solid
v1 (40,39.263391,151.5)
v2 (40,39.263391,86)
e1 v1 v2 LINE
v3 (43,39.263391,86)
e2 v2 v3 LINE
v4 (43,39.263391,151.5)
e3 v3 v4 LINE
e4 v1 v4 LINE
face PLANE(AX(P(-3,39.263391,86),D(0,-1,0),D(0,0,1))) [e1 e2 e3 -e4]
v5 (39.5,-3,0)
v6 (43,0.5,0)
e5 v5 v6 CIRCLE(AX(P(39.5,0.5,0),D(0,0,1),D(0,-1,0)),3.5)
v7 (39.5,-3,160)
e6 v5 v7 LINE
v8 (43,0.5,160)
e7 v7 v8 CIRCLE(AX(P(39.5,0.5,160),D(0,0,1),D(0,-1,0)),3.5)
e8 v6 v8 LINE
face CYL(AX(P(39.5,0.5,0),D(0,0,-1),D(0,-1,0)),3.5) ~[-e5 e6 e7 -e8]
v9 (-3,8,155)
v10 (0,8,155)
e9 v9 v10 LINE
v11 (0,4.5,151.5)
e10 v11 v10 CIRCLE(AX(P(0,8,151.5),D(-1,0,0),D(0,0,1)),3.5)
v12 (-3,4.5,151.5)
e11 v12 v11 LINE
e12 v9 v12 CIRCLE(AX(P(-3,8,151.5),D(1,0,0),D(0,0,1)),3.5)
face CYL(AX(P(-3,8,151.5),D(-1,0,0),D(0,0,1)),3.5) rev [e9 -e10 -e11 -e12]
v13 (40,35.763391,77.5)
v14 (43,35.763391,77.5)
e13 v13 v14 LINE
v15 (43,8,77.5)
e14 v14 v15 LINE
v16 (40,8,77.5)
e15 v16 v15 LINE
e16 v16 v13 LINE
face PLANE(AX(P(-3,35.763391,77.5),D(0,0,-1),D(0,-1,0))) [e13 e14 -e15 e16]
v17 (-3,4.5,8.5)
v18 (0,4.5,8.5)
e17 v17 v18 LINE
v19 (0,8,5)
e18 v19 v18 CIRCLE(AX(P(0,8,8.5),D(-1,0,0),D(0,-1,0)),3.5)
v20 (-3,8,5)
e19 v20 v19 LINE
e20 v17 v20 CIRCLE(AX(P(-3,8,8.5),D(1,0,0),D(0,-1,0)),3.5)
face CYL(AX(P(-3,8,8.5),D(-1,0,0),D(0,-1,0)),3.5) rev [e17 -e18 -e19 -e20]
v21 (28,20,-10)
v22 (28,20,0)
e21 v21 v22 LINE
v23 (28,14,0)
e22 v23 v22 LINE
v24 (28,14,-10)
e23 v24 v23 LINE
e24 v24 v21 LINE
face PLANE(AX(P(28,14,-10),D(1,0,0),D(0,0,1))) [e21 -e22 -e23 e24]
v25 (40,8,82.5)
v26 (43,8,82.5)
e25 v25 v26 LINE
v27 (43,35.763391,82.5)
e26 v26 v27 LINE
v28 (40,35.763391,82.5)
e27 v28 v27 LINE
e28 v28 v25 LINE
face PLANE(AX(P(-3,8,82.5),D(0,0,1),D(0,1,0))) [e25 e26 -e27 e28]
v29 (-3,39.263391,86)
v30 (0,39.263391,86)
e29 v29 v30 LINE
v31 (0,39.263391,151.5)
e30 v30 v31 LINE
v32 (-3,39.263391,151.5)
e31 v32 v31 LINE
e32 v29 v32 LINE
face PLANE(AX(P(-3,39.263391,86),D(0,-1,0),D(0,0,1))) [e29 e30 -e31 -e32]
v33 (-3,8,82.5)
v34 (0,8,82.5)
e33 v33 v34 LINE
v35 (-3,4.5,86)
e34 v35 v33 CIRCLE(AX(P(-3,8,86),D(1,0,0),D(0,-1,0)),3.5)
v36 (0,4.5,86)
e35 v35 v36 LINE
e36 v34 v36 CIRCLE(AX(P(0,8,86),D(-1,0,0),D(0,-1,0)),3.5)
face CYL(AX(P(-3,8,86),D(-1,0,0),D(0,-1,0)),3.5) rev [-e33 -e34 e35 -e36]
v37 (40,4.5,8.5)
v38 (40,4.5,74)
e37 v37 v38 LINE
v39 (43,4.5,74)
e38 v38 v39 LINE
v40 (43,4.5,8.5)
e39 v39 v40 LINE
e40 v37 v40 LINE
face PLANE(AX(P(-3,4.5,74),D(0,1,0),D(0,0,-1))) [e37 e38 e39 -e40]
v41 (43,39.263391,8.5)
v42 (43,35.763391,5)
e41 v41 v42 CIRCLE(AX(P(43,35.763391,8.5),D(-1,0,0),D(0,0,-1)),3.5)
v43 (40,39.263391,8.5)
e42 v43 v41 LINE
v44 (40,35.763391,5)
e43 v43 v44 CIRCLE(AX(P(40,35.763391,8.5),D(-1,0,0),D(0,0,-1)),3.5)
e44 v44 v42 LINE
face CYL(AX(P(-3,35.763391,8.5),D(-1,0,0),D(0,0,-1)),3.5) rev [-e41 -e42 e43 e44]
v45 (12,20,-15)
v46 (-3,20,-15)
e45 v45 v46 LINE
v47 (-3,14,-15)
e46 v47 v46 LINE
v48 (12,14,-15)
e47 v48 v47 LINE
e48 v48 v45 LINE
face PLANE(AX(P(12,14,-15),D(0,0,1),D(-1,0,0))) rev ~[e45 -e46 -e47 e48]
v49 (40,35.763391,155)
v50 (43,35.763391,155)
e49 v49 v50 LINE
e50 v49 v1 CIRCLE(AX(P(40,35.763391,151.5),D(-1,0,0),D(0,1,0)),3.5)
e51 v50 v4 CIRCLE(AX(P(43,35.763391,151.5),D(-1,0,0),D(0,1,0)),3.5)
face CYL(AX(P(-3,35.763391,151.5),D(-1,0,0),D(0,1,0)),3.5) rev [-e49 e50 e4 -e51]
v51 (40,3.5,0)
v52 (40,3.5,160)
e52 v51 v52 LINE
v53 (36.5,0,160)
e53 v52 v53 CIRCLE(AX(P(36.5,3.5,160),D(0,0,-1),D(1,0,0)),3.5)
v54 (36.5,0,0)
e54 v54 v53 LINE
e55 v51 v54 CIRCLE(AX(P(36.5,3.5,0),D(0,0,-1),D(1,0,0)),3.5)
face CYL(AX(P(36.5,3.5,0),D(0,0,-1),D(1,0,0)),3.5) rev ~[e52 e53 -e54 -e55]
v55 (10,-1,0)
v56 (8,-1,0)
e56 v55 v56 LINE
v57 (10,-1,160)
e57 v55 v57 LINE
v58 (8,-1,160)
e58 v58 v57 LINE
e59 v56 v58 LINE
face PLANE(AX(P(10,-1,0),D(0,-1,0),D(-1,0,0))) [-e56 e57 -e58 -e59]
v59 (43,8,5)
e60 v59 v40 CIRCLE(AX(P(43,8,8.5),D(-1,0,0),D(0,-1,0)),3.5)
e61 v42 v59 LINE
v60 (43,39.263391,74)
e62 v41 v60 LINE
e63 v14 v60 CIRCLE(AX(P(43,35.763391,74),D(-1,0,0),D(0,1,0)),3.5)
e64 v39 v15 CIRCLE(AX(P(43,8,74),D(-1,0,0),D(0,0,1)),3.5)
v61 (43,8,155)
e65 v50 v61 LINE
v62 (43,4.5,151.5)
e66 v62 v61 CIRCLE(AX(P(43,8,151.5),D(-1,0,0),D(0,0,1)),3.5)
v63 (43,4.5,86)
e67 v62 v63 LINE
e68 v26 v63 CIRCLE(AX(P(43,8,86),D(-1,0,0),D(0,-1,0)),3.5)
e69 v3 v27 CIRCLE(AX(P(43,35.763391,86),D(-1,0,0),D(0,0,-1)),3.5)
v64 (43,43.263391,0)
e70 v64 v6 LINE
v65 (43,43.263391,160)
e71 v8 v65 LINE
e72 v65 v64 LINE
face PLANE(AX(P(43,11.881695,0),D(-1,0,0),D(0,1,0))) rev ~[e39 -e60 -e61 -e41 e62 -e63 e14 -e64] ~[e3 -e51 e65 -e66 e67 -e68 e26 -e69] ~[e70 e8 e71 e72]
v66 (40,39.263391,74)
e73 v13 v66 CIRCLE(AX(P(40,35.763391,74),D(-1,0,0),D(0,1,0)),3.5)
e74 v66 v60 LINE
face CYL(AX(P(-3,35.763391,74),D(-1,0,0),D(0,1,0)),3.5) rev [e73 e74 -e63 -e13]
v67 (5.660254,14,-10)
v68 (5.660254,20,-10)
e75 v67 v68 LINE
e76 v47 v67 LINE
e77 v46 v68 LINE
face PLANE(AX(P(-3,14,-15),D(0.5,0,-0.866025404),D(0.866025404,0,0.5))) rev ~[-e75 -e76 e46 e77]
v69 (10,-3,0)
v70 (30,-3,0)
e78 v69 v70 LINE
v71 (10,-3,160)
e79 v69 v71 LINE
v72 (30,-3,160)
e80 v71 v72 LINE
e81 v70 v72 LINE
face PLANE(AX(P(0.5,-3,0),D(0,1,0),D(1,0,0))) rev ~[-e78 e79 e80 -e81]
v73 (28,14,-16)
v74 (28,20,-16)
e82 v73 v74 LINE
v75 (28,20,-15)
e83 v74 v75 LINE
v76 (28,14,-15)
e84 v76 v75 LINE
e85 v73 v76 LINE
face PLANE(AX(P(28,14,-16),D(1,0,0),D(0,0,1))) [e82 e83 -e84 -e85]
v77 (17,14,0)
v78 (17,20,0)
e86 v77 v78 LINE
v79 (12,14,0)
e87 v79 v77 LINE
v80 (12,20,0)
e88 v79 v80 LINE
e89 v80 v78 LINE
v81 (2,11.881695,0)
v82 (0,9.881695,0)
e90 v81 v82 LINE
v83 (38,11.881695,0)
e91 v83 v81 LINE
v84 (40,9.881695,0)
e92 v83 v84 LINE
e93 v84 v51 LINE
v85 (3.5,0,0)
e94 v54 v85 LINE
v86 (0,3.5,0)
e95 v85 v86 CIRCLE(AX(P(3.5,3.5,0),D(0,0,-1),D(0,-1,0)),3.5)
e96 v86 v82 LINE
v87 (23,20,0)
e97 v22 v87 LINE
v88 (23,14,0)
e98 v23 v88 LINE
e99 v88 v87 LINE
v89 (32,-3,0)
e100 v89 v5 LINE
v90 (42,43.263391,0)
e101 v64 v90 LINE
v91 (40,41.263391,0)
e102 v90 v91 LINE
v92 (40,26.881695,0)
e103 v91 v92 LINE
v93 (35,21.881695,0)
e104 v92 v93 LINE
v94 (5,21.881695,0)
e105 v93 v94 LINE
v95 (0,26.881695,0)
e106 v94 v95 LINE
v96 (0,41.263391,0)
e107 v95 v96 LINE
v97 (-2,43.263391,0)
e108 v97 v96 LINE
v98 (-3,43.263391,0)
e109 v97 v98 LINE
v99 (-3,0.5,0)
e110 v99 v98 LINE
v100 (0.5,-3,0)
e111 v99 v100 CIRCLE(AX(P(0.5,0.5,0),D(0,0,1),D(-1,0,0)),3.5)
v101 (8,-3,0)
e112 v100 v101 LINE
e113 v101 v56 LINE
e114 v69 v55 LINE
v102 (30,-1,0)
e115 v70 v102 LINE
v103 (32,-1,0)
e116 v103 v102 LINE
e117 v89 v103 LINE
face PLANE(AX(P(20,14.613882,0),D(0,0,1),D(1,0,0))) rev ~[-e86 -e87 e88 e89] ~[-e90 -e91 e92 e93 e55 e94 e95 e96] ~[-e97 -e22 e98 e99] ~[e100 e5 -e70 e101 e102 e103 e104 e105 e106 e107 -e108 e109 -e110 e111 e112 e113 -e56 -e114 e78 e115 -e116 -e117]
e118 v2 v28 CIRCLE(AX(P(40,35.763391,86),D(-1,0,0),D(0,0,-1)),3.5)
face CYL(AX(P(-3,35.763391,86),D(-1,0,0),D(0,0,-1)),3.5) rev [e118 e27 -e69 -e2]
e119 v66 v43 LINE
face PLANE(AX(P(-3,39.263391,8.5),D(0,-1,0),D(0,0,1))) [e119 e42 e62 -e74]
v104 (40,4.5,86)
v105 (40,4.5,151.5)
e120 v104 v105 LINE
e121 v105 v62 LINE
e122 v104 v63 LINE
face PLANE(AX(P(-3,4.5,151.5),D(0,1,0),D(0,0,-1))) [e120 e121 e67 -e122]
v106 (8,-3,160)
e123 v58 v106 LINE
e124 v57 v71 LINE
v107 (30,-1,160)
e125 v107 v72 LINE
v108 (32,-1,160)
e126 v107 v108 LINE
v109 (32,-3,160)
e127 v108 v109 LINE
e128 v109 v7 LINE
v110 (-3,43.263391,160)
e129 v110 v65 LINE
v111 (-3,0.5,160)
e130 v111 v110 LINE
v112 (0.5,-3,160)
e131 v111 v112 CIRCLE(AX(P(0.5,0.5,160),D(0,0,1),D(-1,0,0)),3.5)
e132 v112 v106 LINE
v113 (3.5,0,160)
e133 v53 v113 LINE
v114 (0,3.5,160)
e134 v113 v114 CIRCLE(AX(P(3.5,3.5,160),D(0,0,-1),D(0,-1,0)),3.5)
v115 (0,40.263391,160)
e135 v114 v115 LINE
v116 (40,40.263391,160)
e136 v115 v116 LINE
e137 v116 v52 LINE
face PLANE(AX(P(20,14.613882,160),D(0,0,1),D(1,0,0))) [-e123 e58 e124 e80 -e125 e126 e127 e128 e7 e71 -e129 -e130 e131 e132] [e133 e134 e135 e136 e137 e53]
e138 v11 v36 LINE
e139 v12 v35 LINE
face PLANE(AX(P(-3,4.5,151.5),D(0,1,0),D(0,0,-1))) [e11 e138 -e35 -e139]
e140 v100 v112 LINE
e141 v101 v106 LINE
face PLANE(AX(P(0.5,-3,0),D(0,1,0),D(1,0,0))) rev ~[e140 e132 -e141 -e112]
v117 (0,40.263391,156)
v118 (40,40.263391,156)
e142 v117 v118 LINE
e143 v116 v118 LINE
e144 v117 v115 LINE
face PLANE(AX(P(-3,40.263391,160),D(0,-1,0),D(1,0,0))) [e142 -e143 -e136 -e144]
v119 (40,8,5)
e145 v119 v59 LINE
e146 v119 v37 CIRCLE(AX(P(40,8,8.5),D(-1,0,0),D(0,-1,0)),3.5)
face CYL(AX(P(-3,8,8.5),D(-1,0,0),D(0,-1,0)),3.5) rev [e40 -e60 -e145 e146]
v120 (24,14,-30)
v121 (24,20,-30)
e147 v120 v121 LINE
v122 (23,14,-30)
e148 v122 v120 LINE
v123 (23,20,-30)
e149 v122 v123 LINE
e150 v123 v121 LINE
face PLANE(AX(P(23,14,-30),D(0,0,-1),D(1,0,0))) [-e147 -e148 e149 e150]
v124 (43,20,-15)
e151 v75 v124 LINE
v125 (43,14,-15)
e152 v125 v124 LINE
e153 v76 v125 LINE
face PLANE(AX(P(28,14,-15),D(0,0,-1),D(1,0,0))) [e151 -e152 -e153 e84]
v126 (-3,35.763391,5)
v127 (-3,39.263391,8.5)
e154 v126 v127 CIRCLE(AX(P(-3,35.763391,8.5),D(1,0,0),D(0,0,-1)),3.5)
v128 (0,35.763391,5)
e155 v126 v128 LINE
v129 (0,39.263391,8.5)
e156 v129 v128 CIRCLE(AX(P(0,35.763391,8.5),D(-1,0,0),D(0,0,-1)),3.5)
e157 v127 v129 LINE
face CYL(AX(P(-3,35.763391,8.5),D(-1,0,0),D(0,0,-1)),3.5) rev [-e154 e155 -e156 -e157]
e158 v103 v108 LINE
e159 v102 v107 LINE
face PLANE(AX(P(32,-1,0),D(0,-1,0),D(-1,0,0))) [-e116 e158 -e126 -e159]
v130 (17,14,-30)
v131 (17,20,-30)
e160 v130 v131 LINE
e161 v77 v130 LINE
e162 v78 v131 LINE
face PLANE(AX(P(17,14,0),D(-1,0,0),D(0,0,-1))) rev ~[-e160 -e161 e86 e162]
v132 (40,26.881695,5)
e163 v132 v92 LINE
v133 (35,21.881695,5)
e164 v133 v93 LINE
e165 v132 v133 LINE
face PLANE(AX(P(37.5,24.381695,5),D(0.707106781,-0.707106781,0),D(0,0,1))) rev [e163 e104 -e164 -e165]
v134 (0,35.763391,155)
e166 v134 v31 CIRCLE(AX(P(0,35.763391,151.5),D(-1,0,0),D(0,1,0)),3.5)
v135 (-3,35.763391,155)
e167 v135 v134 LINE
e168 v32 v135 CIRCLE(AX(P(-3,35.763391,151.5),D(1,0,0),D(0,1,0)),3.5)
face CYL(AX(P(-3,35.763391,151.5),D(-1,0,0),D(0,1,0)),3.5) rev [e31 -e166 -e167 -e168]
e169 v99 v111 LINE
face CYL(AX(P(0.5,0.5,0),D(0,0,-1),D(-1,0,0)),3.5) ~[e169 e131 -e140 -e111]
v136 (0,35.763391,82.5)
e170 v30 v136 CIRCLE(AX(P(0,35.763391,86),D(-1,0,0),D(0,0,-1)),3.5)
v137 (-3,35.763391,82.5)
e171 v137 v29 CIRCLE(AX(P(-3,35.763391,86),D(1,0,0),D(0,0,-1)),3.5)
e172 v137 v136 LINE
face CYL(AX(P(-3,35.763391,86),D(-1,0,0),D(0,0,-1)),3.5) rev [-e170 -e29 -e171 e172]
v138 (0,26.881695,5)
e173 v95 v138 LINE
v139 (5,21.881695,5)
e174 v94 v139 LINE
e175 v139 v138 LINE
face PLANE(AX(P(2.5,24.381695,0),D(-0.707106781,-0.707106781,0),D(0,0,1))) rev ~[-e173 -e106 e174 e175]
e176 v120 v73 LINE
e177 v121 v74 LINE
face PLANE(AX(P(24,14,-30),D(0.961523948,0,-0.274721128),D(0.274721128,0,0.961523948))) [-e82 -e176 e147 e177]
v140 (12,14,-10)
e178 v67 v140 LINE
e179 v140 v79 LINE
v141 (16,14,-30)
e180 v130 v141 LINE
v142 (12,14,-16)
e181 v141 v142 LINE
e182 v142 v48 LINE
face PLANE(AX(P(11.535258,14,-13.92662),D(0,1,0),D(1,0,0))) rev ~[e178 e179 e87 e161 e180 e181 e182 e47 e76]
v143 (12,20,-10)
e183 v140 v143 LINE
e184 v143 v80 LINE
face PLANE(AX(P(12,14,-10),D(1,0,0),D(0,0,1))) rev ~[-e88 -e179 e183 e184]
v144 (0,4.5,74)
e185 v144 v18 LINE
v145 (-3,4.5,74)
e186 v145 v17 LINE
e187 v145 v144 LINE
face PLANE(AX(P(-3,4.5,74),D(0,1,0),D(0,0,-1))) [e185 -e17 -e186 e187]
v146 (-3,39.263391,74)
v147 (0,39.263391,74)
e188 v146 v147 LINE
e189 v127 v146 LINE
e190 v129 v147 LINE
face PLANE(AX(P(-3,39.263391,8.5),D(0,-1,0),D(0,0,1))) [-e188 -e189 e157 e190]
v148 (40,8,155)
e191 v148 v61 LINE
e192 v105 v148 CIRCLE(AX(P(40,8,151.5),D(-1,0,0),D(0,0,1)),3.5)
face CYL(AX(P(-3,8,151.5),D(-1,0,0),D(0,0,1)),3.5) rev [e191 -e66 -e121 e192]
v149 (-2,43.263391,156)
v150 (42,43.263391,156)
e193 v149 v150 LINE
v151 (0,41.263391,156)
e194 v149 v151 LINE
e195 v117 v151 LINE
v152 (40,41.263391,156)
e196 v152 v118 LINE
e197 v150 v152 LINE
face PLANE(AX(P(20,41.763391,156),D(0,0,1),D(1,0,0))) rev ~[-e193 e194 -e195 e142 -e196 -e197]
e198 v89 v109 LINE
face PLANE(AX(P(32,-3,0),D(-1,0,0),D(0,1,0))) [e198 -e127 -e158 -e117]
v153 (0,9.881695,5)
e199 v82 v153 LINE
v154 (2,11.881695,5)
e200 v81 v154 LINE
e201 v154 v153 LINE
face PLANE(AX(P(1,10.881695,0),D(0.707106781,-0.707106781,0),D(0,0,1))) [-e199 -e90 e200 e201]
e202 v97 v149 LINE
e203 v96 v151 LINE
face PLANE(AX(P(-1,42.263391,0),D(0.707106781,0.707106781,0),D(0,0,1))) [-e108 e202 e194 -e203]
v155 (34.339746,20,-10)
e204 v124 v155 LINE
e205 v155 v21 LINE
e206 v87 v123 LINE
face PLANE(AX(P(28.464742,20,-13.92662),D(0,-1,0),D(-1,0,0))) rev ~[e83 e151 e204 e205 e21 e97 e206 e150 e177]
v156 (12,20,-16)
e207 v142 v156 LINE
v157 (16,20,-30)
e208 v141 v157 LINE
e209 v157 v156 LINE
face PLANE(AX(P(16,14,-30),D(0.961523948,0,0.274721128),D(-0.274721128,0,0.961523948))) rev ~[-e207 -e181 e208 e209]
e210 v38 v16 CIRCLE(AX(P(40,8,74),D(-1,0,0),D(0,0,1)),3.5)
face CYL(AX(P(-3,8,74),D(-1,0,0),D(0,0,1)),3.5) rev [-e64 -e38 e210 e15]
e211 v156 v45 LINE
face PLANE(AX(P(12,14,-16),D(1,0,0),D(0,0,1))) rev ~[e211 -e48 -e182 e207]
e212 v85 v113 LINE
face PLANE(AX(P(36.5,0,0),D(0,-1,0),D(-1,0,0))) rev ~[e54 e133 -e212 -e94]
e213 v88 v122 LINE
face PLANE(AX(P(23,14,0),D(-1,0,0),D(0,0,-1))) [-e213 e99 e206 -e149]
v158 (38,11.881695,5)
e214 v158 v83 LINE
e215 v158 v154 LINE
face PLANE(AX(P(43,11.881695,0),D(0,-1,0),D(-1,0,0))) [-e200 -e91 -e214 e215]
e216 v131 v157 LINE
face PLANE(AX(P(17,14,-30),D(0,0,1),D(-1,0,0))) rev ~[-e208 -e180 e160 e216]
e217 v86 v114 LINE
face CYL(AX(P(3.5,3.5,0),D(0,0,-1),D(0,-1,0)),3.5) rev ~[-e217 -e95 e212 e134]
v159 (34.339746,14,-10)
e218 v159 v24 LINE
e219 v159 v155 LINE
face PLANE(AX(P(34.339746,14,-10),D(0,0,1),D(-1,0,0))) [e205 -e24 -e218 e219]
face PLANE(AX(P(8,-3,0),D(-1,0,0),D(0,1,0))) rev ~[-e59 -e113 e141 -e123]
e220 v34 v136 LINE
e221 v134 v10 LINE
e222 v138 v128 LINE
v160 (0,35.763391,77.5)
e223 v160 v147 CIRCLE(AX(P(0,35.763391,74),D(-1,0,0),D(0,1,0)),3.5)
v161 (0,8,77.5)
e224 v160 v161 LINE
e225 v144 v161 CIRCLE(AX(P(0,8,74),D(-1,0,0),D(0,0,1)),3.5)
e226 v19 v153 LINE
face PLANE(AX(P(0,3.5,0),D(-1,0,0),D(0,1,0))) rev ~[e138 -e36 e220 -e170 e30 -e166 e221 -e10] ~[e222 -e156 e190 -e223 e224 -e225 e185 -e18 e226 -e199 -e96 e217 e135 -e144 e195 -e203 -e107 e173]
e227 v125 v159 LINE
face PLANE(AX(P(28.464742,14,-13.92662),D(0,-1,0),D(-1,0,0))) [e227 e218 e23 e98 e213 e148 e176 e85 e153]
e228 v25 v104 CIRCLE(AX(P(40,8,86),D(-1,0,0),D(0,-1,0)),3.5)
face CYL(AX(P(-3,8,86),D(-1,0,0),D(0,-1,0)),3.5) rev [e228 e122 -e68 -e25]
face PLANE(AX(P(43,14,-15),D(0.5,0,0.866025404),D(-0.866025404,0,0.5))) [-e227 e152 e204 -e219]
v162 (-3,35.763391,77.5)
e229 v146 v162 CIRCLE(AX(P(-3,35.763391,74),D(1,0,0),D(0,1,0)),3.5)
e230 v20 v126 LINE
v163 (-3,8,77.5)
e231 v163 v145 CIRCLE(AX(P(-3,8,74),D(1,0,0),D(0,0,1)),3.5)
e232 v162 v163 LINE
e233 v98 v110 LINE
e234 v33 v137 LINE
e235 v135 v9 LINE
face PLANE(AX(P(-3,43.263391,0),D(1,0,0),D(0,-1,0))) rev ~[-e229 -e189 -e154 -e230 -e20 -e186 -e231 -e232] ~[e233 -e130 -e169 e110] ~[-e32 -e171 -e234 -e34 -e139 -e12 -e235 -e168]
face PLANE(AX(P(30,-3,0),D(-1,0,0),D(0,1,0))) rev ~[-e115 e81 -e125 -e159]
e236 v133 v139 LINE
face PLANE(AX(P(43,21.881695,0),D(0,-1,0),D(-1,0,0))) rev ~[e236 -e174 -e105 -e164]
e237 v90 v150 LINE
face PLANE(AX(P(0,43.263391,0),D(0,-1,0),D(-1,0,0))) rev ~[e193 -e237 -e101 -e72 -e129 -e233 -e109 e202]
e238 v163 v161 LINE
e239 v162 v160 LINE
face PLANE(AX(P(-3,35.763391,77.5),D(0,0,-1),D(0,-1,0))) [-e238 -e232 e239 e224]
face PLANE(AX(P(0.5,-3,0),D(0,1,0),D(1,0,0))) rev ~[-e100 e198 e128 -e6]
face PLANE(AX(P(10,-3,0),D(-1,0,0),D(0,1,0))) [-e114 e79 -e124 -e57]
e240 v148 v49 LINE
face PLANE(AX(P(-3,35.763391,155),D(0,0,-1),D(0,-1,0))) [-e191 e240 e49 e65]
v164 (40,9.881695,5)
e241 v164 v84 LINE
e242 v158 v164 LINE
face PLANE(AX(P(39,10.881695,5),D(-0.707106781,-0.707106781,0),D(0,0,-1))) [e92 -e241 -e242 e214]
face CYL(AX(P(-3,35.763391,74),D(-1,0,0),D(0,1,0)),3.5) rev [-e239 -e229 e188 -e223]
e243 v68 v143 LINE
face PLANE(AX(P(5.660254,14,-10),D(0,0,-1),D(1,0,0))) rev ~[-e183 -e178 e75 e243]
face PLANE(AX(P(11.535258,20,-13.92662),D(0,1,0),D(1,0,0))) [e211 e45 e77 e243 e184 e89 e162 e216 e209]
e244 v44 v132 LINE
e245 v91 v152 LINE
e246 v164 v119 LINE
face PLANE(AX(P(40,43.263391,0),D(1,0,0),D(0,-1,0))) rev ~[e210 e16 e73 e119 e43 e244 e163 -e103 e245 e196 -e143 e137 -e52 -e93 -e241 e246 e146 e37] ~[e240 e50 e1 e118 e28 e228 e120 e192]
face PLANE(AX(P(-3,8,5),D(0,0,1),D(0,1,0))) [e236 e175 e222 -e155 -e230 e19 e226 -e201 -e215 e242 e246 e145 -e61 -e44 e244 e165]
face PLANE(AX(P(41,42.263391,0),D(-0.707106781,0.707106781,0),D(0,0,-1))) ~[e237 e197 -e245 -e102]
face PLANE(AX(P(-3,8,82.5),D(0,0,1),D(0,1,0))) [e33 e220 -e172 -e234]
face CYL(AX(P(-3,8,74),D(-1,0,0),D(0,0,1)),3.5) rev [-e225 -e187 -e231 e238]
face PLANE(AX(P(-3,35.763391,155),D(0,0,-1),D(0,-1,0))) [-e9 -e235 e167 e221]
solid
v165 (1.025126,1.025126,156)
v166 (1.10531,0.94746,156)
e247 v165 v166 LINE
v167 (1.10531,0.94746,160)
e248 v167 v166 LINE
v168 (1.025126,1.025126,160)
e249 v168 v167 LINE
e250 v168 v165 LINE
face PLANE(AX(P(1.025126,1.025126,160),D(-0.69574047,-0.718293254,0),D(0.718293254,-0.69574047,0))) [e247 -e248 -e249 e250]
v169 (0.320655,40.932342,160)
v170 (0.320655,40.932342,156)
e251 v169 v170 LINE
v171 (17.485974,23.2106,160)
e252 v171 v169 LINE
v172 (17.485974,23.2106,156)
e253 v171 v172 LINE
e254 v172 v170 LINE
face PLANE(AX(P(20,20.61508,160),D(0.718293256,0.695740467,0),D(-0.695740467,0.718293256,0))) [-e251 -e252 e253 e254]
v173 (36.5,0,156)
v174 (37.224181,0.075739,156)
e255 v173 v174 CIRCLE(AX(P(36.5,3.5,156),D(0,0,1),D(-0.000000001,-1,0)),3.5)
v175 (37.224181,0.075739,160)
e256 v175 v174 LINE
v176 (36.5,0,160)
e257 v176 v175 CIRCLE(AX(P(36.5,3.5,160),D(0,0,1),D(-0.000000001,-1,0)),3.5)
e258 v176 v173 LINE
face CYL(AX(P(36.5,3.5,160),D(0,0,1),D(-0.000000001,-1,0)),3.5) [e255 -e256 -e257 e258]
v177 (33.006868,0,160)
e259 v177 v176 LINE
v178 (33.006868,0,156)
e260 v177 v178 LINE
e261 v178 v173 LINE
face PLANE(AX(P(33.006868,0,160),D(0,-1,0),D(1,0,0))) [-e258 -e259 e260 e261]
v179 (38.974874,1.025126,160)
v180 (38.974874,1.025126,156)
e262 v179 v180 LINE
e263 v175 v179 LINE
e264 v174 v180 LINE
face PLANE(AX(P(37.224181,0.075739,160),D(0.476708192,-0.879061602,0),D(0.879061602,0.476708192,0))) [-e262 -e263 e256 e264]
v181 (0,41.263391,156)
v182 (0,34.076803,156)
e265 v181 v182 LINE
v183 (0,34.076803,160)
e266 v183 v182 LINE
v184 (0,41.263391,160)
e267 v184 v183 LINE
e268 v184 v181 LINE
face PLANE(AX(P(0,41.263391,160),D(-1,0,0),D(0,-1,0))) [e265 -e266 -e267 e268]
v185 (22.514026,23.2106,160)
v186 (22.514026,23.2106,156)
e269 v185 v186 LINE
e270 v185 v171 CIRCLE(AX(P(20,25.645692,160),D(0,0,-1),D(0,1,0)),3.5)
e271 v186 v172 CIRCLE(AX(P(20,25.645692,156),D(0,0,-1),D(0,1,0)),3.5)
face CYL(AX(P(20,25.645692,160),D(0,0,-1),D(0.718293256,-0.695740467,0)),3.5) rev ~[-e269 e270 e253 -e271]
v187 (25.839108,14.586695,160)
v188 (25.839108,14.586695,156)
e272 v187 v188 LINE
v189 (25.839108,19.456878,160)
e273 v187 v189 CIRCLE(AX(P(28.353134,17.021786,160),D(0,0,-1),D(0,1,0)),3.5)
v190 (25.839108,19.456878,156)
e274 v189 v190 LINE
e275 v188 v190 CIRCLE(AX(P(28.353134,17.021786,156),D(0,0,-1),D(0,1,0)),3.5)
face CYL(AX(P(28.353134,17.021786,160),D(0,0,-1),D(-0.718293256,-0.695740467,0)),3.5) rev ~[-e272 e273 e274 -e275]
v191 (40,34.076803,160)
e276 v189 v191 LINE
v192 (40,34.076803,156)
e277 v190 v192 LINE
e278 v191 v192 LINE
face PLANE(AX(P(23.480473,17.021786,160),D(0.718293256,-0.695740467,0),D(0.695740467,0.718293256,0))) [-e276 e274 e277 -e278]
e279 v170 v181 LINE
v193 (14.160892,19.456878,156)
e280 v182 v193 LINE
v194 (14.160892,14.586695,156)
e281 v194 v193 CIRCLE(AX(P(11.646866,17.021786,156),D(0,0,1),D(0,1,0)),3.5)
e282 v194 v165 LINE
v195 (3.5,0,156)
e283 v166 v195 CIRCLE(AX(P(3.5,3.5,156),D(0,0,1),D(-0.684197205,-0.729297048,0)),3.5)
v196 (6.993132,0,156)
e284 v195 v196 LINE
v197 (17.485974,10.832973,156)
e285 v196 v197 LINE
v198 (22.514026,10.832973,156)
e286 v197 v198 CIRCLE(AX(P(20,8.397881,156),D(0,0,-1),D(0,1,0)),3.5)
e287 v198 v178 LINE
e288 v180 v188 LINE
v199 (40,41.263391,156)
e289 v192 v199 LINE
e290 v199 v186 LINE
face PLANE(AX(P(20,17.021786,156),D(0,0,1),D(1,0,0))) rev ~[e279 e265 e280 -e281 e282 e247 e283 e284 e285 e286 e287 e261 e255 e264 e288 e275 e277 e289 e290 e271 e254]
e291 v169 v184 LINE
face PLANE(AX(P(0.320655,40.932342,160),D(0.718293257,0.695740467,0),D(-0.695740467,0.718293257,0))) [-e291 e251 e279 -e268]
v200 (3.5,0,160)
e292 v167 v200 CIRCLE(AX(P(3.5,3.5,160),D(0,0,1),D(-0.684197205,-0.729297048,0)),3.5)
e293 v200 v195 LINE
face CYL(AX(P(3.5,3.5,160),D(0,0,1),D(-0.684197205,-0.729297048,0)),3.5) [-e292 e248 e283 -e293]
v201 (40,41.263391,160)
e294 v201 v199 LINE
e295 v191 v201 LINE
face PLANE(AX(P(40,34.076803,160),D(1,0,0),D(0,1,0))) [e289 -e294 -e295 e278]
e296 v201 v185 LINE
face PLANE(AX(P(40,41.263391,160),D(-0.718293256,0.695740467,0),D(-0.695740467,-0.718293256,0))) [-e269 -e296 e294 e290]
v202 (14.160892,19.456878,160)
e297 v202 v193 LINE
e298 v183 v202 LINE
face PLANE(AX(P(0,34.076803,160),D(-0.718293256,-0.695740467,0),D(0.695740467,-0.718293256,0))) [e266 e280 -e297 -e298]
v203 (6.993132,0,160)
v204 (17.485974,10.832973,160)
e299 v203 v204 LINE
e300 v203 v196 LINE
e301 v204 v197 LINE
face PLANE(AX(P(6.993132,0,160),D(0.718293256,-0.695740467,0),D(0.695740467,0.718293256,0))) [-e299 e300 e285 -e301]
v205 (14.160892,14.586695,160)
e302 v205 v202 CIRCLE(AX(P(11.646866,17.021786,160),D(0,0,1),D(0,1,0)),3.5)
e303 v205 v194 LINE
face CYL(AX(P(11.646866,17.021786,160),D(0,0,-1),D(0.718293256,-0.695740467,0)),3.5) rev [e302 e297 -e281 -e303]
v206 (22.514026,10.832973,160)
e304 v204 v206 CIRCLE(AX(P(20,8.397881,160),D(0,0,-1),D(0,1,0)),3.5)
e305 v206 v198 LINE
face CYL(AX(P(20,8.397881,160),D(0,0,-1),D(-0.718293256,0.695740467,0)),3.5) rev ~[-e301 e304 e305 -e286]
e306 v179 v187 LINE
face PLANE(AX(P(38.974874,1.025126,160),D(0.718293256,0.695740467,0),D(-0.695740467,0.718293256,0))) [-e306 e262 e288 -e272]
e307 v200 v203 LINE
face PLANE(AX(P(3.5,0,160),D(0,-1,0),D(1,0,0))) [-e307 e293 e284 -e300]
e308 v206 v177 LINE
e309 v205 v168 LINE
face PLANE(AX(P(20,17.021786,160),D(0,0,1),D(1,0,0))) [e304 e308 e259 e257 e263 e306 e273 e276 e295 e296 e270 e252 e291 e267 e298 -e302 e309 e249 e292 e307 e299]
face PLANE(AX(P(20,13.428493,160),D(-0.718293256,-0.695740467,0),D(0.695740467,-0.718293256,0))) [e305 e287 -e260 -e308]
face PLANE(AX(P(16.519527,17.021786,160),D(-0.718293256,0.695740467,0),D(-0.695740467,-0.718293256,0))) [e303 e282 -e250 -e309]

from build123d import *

# Parameters (mm, degrees)
EXTRUDE_1_DEPTH     = 160
CUT_EXTRUDE_1_DEPTH = 160
CHAMFER_1_SIZE      = 2
EXTRUDE_3_DEPTH     = 4
FILLET_1_R          = 3.5
SKETCH_4_W          = 46
SKETCH_4_H          = 3
EXTRUDE_4_DEPTH     = 4
SKETCH_5_W          = 46
SKETCH_5_H          = 10
EXTRUDE_5_DEPTH     = 5
CHAMFER_2_SIZE      = 2
EXTRUDE_6_DEPTH     = 6
CHAMFER_3_SIZE      = 5
SKETCH_8_W          = 2
SKETCH_8_H          = 2
CUT_EXTRUDE_2_DEPTH = 172.232943631


with BuildPart() as part:
    # 草图1 → 凸台-拉伸1 (new body)
    with BuildSketch(Plane.XY):
        with BuildLine():
            Line((0, 43.263390812), (-3, 43.263390812))
            Line((-3, 43.263390812), (-3, 0.5))
            ThreePointArc((-3, 0.5), (-1.974873734, -1.974873734), (0.5, -3))
            Line((0.5, -3), (39.5, -3))
            ThreePointArc((39.5, -3), (41.974873734, -1.974873734), (43, 0.5))
            Line((43, 0.5), (43, 43.263390812))
            Line((43, 43.263390812), (40, 43.263390812))
            Line((40, 43.263390812), (40, 3.5))
            ThreePointArc((40, 3.5), (38.974873734, 1.025126266), (36.5, 0))
            Line((36.5, 0), (3.5, 0))
            ThreePointArc((3.5, 0), (1.025126266, 1.025126266), (0, 3.5))
            Line((0, 3.5), (0, 43.263390812))
        make_face()
    extrude(amount=EXTRUDE_1_DEPTH)

    # 草图2 → 切除-拉伸1 (cut)
    with BuildSketch(Plane.ZY.offset(3)):
        with BuildLine():
            Line((8.5, 39.263390812), (74, 39.263390812))
            ThreePointArc((74, 39.263390812), (76.474873734, 38.238264546), (77.5, 35.763390812))
            Line((77.5, 35.763390812), (77.5, 8))
            ThreePointArc((77.5, 8), (76.474873734, 5.525126266), (74, 4.5))
            Line((74, 4.5), (8.5, 4.5))
            ThreePointArc((8.5, 4.5), (6.025126266, 5.525126266), (5, 8))
            Line((5, 8), (5, 35.763390812))
            ThreePointArc((5, 35.763390812), (6.025126266, 38.238264546), (8.5, 39.263390812))
        make_face()
        with BuildLine():
            Line((86, 39.263390812), (151.5, 39.263390812))
            ThreePointArc((151.5, 39.263390812), (153.974873734, 38.238264546), (155, 35.763390812))
            Line((155, 35.763390812), (155, 8))
            ThreePointArc((155, 8), (153.974873734, 5.525126266), (151.5, 4.5))
            Line((151.5, 4.5), (86, 4.5))
            ThreePointArc((86, 4.5), (83.525126266, 5.525126266), (82.5, 8))
            Line((82.5, 8), (82.5, 35.763390812))
            ThreePointArc((82.5, 35.763390812), (83.525126266, 38.238264546), (86, 39.263390812))
        make_face()
    extrude(amount=-CUT_EXTRUDE_1_DEPTH, mode=Mode.SUBTRACT)

    # 倒角1
    chamfer_1_edges = [part.edges().sort_by_distance(p)[0] for p in [
        (40, 43.263390812, 80),
        (0, 43.263390812, 80),
    ]]
    chamfer(chamfer_1_edges, length=CHAMFER_1_SIZE)

    # 草图4 → 凸台-拉伸4 (add)
    with BuildSketch(Plane.XY.offset(160)):
        with Locations((20, 41.763390812)):
            Rectangle(SKETCH_4_W, SKETCH_4_H)
    extrude(amount=-EXTRUDE_4_DEPTH)

    # 草图5 → 凸台-拉伸5 (add)
    with BuildSketch(Plane(origin=(0, 0, 0), x_dir=(-1, 0, 0), z_dir=(0, 0, -1))):
        with Locations((-20, 16.881695406)):
            Rectangle(SKETCH_5_W, SKETCH_5_H)
    extrude(amount=-EXTRUDE_5_DEPTH)

    # 倒角2
    chamfer_2_edges = [part.edges().sort_by_distance(p)[0] for p in [
        (0, 11.881695406, 2.5),
        (40, 11.881695406, 2.5),
    ]]
    chamfer(chamfer_2_edges, length=CHAMFER_2_SIZE)

    # 草图7 → 凸台-拉伸6 (add)
    with BuildSketch(Plane(origin=(0, 14, 0), x_dir=(1, 0, 0), z_dir=(0, 1, 0))):
        Polygon((43, 15), (34.339745962, 10), (28, 10), (28, 0), (23, 0), (23, 30), (24, 30), (28, 16), (28, 15), align=None)
        Polygon((17, 0), (17, 30), (16, 30), (12, 16), (12, 15), (-3, 15), (5.660254038, 10), (12, 10), (12, 0), align=None)
    extrude(amount=EXTRUDE_6_DEPTH)

    # 倒角3
    chamfer_3_edges = [part.edges().sort_by_distance(p)[0] for p in [
        (0, 21.881695406, 2.5),
        (40, 21.881695406, 2.5),
    ]]
    chamfer(chamfer_3_edges, length=CHAMFER_3_SIZE)

    # 草图8 → 切除-拉伸2 (cut, through all)
    with BuildSketch(Plane(origin=(0, 0, 0), x_dir=(-1, 0, 0), z_dir=(0, 0, -1))):
        with Locations((-9, -2)):
            Rectangle(SKETCH_8_W, SKETCH_8_H)
        with Locations((-31, -2)):
            Rectangle(SKETCH_8_W, SKETCH_8_H)
    extrude(amount=-CUT_EXTRUDE_2_DEPTH, mode=Mode.SUBTRACT)


with BuildPart() as body_2:
    # 草图3 → 凸台-拉伸3 (new body)
    with BuildSketch(Plane.XY.offset(160)):
        Polygon((23.480472603, 17.021786472), (20, 20.615080405), (16.519527397, 17.021786472), (20, 13.428492539), align=None)
        Polygon((40, 34.076802945), (40, 41.263390812), (20, 20.615080405), (23.480472603, 17.021786472), align=None)
        with BuildLine():
            Line((38.974873734, 1.025126266), (23.480472603, 17.021786472))
            Line((23.480472603, 17.021786472), (20, 13.428492539))
            Line((20, 13.428492539), (33.00686814, 0))
            Line((33.00686814, 0), (36.5, 0))
            ThreePointArc((36.5, 0), (36.864065208, 0.018986279), (37.224180562, 0.075739129))
            Line((37.224180562, 0.075739129), (38.974873734, 1.025126266))
        make_face()
        with BuildLine():
            Line((20, 13.428492539), (16.519527397, 17.021786472))
            Line((16.519527397, 17.021786472), (1.025126266, 1.025126266))
            Line((1.025126266, 1.025126266), (1.105309781, 0.947460332))
            ThreePointArc((1.105309781, 0.947460332), (2.212344929, 0.245473242), (3.5, 0))
            Line((3.5, 0), (6.99313186, 0))
            Line((6.99313186, 0), (20, 13.428492539))
        make_face()
        Polygon((0.320654638, 40.932341987), (0, 41.263390812), (0, 34.076802945), (16.519527397, 17.021786472), (20, 20.615080405), align=None)
    extrude(amount=-EXTRUDE_3_DEPTH)

    # 圆角1
    fillet_1_edges = [body_2.edges().sort_by_distance(p)[0] for p in [
        (20, 20.615080405, 158),
        (23.480472603, 17.021786472, 158),
        (20, 13.428492539, 158),
        (16.519527397, 17.021786472, 158),
    ]]
    fillet(fillet_1_edges, radius=FILLET_1_R)


solid = Compound([part.part, body_2.part])
